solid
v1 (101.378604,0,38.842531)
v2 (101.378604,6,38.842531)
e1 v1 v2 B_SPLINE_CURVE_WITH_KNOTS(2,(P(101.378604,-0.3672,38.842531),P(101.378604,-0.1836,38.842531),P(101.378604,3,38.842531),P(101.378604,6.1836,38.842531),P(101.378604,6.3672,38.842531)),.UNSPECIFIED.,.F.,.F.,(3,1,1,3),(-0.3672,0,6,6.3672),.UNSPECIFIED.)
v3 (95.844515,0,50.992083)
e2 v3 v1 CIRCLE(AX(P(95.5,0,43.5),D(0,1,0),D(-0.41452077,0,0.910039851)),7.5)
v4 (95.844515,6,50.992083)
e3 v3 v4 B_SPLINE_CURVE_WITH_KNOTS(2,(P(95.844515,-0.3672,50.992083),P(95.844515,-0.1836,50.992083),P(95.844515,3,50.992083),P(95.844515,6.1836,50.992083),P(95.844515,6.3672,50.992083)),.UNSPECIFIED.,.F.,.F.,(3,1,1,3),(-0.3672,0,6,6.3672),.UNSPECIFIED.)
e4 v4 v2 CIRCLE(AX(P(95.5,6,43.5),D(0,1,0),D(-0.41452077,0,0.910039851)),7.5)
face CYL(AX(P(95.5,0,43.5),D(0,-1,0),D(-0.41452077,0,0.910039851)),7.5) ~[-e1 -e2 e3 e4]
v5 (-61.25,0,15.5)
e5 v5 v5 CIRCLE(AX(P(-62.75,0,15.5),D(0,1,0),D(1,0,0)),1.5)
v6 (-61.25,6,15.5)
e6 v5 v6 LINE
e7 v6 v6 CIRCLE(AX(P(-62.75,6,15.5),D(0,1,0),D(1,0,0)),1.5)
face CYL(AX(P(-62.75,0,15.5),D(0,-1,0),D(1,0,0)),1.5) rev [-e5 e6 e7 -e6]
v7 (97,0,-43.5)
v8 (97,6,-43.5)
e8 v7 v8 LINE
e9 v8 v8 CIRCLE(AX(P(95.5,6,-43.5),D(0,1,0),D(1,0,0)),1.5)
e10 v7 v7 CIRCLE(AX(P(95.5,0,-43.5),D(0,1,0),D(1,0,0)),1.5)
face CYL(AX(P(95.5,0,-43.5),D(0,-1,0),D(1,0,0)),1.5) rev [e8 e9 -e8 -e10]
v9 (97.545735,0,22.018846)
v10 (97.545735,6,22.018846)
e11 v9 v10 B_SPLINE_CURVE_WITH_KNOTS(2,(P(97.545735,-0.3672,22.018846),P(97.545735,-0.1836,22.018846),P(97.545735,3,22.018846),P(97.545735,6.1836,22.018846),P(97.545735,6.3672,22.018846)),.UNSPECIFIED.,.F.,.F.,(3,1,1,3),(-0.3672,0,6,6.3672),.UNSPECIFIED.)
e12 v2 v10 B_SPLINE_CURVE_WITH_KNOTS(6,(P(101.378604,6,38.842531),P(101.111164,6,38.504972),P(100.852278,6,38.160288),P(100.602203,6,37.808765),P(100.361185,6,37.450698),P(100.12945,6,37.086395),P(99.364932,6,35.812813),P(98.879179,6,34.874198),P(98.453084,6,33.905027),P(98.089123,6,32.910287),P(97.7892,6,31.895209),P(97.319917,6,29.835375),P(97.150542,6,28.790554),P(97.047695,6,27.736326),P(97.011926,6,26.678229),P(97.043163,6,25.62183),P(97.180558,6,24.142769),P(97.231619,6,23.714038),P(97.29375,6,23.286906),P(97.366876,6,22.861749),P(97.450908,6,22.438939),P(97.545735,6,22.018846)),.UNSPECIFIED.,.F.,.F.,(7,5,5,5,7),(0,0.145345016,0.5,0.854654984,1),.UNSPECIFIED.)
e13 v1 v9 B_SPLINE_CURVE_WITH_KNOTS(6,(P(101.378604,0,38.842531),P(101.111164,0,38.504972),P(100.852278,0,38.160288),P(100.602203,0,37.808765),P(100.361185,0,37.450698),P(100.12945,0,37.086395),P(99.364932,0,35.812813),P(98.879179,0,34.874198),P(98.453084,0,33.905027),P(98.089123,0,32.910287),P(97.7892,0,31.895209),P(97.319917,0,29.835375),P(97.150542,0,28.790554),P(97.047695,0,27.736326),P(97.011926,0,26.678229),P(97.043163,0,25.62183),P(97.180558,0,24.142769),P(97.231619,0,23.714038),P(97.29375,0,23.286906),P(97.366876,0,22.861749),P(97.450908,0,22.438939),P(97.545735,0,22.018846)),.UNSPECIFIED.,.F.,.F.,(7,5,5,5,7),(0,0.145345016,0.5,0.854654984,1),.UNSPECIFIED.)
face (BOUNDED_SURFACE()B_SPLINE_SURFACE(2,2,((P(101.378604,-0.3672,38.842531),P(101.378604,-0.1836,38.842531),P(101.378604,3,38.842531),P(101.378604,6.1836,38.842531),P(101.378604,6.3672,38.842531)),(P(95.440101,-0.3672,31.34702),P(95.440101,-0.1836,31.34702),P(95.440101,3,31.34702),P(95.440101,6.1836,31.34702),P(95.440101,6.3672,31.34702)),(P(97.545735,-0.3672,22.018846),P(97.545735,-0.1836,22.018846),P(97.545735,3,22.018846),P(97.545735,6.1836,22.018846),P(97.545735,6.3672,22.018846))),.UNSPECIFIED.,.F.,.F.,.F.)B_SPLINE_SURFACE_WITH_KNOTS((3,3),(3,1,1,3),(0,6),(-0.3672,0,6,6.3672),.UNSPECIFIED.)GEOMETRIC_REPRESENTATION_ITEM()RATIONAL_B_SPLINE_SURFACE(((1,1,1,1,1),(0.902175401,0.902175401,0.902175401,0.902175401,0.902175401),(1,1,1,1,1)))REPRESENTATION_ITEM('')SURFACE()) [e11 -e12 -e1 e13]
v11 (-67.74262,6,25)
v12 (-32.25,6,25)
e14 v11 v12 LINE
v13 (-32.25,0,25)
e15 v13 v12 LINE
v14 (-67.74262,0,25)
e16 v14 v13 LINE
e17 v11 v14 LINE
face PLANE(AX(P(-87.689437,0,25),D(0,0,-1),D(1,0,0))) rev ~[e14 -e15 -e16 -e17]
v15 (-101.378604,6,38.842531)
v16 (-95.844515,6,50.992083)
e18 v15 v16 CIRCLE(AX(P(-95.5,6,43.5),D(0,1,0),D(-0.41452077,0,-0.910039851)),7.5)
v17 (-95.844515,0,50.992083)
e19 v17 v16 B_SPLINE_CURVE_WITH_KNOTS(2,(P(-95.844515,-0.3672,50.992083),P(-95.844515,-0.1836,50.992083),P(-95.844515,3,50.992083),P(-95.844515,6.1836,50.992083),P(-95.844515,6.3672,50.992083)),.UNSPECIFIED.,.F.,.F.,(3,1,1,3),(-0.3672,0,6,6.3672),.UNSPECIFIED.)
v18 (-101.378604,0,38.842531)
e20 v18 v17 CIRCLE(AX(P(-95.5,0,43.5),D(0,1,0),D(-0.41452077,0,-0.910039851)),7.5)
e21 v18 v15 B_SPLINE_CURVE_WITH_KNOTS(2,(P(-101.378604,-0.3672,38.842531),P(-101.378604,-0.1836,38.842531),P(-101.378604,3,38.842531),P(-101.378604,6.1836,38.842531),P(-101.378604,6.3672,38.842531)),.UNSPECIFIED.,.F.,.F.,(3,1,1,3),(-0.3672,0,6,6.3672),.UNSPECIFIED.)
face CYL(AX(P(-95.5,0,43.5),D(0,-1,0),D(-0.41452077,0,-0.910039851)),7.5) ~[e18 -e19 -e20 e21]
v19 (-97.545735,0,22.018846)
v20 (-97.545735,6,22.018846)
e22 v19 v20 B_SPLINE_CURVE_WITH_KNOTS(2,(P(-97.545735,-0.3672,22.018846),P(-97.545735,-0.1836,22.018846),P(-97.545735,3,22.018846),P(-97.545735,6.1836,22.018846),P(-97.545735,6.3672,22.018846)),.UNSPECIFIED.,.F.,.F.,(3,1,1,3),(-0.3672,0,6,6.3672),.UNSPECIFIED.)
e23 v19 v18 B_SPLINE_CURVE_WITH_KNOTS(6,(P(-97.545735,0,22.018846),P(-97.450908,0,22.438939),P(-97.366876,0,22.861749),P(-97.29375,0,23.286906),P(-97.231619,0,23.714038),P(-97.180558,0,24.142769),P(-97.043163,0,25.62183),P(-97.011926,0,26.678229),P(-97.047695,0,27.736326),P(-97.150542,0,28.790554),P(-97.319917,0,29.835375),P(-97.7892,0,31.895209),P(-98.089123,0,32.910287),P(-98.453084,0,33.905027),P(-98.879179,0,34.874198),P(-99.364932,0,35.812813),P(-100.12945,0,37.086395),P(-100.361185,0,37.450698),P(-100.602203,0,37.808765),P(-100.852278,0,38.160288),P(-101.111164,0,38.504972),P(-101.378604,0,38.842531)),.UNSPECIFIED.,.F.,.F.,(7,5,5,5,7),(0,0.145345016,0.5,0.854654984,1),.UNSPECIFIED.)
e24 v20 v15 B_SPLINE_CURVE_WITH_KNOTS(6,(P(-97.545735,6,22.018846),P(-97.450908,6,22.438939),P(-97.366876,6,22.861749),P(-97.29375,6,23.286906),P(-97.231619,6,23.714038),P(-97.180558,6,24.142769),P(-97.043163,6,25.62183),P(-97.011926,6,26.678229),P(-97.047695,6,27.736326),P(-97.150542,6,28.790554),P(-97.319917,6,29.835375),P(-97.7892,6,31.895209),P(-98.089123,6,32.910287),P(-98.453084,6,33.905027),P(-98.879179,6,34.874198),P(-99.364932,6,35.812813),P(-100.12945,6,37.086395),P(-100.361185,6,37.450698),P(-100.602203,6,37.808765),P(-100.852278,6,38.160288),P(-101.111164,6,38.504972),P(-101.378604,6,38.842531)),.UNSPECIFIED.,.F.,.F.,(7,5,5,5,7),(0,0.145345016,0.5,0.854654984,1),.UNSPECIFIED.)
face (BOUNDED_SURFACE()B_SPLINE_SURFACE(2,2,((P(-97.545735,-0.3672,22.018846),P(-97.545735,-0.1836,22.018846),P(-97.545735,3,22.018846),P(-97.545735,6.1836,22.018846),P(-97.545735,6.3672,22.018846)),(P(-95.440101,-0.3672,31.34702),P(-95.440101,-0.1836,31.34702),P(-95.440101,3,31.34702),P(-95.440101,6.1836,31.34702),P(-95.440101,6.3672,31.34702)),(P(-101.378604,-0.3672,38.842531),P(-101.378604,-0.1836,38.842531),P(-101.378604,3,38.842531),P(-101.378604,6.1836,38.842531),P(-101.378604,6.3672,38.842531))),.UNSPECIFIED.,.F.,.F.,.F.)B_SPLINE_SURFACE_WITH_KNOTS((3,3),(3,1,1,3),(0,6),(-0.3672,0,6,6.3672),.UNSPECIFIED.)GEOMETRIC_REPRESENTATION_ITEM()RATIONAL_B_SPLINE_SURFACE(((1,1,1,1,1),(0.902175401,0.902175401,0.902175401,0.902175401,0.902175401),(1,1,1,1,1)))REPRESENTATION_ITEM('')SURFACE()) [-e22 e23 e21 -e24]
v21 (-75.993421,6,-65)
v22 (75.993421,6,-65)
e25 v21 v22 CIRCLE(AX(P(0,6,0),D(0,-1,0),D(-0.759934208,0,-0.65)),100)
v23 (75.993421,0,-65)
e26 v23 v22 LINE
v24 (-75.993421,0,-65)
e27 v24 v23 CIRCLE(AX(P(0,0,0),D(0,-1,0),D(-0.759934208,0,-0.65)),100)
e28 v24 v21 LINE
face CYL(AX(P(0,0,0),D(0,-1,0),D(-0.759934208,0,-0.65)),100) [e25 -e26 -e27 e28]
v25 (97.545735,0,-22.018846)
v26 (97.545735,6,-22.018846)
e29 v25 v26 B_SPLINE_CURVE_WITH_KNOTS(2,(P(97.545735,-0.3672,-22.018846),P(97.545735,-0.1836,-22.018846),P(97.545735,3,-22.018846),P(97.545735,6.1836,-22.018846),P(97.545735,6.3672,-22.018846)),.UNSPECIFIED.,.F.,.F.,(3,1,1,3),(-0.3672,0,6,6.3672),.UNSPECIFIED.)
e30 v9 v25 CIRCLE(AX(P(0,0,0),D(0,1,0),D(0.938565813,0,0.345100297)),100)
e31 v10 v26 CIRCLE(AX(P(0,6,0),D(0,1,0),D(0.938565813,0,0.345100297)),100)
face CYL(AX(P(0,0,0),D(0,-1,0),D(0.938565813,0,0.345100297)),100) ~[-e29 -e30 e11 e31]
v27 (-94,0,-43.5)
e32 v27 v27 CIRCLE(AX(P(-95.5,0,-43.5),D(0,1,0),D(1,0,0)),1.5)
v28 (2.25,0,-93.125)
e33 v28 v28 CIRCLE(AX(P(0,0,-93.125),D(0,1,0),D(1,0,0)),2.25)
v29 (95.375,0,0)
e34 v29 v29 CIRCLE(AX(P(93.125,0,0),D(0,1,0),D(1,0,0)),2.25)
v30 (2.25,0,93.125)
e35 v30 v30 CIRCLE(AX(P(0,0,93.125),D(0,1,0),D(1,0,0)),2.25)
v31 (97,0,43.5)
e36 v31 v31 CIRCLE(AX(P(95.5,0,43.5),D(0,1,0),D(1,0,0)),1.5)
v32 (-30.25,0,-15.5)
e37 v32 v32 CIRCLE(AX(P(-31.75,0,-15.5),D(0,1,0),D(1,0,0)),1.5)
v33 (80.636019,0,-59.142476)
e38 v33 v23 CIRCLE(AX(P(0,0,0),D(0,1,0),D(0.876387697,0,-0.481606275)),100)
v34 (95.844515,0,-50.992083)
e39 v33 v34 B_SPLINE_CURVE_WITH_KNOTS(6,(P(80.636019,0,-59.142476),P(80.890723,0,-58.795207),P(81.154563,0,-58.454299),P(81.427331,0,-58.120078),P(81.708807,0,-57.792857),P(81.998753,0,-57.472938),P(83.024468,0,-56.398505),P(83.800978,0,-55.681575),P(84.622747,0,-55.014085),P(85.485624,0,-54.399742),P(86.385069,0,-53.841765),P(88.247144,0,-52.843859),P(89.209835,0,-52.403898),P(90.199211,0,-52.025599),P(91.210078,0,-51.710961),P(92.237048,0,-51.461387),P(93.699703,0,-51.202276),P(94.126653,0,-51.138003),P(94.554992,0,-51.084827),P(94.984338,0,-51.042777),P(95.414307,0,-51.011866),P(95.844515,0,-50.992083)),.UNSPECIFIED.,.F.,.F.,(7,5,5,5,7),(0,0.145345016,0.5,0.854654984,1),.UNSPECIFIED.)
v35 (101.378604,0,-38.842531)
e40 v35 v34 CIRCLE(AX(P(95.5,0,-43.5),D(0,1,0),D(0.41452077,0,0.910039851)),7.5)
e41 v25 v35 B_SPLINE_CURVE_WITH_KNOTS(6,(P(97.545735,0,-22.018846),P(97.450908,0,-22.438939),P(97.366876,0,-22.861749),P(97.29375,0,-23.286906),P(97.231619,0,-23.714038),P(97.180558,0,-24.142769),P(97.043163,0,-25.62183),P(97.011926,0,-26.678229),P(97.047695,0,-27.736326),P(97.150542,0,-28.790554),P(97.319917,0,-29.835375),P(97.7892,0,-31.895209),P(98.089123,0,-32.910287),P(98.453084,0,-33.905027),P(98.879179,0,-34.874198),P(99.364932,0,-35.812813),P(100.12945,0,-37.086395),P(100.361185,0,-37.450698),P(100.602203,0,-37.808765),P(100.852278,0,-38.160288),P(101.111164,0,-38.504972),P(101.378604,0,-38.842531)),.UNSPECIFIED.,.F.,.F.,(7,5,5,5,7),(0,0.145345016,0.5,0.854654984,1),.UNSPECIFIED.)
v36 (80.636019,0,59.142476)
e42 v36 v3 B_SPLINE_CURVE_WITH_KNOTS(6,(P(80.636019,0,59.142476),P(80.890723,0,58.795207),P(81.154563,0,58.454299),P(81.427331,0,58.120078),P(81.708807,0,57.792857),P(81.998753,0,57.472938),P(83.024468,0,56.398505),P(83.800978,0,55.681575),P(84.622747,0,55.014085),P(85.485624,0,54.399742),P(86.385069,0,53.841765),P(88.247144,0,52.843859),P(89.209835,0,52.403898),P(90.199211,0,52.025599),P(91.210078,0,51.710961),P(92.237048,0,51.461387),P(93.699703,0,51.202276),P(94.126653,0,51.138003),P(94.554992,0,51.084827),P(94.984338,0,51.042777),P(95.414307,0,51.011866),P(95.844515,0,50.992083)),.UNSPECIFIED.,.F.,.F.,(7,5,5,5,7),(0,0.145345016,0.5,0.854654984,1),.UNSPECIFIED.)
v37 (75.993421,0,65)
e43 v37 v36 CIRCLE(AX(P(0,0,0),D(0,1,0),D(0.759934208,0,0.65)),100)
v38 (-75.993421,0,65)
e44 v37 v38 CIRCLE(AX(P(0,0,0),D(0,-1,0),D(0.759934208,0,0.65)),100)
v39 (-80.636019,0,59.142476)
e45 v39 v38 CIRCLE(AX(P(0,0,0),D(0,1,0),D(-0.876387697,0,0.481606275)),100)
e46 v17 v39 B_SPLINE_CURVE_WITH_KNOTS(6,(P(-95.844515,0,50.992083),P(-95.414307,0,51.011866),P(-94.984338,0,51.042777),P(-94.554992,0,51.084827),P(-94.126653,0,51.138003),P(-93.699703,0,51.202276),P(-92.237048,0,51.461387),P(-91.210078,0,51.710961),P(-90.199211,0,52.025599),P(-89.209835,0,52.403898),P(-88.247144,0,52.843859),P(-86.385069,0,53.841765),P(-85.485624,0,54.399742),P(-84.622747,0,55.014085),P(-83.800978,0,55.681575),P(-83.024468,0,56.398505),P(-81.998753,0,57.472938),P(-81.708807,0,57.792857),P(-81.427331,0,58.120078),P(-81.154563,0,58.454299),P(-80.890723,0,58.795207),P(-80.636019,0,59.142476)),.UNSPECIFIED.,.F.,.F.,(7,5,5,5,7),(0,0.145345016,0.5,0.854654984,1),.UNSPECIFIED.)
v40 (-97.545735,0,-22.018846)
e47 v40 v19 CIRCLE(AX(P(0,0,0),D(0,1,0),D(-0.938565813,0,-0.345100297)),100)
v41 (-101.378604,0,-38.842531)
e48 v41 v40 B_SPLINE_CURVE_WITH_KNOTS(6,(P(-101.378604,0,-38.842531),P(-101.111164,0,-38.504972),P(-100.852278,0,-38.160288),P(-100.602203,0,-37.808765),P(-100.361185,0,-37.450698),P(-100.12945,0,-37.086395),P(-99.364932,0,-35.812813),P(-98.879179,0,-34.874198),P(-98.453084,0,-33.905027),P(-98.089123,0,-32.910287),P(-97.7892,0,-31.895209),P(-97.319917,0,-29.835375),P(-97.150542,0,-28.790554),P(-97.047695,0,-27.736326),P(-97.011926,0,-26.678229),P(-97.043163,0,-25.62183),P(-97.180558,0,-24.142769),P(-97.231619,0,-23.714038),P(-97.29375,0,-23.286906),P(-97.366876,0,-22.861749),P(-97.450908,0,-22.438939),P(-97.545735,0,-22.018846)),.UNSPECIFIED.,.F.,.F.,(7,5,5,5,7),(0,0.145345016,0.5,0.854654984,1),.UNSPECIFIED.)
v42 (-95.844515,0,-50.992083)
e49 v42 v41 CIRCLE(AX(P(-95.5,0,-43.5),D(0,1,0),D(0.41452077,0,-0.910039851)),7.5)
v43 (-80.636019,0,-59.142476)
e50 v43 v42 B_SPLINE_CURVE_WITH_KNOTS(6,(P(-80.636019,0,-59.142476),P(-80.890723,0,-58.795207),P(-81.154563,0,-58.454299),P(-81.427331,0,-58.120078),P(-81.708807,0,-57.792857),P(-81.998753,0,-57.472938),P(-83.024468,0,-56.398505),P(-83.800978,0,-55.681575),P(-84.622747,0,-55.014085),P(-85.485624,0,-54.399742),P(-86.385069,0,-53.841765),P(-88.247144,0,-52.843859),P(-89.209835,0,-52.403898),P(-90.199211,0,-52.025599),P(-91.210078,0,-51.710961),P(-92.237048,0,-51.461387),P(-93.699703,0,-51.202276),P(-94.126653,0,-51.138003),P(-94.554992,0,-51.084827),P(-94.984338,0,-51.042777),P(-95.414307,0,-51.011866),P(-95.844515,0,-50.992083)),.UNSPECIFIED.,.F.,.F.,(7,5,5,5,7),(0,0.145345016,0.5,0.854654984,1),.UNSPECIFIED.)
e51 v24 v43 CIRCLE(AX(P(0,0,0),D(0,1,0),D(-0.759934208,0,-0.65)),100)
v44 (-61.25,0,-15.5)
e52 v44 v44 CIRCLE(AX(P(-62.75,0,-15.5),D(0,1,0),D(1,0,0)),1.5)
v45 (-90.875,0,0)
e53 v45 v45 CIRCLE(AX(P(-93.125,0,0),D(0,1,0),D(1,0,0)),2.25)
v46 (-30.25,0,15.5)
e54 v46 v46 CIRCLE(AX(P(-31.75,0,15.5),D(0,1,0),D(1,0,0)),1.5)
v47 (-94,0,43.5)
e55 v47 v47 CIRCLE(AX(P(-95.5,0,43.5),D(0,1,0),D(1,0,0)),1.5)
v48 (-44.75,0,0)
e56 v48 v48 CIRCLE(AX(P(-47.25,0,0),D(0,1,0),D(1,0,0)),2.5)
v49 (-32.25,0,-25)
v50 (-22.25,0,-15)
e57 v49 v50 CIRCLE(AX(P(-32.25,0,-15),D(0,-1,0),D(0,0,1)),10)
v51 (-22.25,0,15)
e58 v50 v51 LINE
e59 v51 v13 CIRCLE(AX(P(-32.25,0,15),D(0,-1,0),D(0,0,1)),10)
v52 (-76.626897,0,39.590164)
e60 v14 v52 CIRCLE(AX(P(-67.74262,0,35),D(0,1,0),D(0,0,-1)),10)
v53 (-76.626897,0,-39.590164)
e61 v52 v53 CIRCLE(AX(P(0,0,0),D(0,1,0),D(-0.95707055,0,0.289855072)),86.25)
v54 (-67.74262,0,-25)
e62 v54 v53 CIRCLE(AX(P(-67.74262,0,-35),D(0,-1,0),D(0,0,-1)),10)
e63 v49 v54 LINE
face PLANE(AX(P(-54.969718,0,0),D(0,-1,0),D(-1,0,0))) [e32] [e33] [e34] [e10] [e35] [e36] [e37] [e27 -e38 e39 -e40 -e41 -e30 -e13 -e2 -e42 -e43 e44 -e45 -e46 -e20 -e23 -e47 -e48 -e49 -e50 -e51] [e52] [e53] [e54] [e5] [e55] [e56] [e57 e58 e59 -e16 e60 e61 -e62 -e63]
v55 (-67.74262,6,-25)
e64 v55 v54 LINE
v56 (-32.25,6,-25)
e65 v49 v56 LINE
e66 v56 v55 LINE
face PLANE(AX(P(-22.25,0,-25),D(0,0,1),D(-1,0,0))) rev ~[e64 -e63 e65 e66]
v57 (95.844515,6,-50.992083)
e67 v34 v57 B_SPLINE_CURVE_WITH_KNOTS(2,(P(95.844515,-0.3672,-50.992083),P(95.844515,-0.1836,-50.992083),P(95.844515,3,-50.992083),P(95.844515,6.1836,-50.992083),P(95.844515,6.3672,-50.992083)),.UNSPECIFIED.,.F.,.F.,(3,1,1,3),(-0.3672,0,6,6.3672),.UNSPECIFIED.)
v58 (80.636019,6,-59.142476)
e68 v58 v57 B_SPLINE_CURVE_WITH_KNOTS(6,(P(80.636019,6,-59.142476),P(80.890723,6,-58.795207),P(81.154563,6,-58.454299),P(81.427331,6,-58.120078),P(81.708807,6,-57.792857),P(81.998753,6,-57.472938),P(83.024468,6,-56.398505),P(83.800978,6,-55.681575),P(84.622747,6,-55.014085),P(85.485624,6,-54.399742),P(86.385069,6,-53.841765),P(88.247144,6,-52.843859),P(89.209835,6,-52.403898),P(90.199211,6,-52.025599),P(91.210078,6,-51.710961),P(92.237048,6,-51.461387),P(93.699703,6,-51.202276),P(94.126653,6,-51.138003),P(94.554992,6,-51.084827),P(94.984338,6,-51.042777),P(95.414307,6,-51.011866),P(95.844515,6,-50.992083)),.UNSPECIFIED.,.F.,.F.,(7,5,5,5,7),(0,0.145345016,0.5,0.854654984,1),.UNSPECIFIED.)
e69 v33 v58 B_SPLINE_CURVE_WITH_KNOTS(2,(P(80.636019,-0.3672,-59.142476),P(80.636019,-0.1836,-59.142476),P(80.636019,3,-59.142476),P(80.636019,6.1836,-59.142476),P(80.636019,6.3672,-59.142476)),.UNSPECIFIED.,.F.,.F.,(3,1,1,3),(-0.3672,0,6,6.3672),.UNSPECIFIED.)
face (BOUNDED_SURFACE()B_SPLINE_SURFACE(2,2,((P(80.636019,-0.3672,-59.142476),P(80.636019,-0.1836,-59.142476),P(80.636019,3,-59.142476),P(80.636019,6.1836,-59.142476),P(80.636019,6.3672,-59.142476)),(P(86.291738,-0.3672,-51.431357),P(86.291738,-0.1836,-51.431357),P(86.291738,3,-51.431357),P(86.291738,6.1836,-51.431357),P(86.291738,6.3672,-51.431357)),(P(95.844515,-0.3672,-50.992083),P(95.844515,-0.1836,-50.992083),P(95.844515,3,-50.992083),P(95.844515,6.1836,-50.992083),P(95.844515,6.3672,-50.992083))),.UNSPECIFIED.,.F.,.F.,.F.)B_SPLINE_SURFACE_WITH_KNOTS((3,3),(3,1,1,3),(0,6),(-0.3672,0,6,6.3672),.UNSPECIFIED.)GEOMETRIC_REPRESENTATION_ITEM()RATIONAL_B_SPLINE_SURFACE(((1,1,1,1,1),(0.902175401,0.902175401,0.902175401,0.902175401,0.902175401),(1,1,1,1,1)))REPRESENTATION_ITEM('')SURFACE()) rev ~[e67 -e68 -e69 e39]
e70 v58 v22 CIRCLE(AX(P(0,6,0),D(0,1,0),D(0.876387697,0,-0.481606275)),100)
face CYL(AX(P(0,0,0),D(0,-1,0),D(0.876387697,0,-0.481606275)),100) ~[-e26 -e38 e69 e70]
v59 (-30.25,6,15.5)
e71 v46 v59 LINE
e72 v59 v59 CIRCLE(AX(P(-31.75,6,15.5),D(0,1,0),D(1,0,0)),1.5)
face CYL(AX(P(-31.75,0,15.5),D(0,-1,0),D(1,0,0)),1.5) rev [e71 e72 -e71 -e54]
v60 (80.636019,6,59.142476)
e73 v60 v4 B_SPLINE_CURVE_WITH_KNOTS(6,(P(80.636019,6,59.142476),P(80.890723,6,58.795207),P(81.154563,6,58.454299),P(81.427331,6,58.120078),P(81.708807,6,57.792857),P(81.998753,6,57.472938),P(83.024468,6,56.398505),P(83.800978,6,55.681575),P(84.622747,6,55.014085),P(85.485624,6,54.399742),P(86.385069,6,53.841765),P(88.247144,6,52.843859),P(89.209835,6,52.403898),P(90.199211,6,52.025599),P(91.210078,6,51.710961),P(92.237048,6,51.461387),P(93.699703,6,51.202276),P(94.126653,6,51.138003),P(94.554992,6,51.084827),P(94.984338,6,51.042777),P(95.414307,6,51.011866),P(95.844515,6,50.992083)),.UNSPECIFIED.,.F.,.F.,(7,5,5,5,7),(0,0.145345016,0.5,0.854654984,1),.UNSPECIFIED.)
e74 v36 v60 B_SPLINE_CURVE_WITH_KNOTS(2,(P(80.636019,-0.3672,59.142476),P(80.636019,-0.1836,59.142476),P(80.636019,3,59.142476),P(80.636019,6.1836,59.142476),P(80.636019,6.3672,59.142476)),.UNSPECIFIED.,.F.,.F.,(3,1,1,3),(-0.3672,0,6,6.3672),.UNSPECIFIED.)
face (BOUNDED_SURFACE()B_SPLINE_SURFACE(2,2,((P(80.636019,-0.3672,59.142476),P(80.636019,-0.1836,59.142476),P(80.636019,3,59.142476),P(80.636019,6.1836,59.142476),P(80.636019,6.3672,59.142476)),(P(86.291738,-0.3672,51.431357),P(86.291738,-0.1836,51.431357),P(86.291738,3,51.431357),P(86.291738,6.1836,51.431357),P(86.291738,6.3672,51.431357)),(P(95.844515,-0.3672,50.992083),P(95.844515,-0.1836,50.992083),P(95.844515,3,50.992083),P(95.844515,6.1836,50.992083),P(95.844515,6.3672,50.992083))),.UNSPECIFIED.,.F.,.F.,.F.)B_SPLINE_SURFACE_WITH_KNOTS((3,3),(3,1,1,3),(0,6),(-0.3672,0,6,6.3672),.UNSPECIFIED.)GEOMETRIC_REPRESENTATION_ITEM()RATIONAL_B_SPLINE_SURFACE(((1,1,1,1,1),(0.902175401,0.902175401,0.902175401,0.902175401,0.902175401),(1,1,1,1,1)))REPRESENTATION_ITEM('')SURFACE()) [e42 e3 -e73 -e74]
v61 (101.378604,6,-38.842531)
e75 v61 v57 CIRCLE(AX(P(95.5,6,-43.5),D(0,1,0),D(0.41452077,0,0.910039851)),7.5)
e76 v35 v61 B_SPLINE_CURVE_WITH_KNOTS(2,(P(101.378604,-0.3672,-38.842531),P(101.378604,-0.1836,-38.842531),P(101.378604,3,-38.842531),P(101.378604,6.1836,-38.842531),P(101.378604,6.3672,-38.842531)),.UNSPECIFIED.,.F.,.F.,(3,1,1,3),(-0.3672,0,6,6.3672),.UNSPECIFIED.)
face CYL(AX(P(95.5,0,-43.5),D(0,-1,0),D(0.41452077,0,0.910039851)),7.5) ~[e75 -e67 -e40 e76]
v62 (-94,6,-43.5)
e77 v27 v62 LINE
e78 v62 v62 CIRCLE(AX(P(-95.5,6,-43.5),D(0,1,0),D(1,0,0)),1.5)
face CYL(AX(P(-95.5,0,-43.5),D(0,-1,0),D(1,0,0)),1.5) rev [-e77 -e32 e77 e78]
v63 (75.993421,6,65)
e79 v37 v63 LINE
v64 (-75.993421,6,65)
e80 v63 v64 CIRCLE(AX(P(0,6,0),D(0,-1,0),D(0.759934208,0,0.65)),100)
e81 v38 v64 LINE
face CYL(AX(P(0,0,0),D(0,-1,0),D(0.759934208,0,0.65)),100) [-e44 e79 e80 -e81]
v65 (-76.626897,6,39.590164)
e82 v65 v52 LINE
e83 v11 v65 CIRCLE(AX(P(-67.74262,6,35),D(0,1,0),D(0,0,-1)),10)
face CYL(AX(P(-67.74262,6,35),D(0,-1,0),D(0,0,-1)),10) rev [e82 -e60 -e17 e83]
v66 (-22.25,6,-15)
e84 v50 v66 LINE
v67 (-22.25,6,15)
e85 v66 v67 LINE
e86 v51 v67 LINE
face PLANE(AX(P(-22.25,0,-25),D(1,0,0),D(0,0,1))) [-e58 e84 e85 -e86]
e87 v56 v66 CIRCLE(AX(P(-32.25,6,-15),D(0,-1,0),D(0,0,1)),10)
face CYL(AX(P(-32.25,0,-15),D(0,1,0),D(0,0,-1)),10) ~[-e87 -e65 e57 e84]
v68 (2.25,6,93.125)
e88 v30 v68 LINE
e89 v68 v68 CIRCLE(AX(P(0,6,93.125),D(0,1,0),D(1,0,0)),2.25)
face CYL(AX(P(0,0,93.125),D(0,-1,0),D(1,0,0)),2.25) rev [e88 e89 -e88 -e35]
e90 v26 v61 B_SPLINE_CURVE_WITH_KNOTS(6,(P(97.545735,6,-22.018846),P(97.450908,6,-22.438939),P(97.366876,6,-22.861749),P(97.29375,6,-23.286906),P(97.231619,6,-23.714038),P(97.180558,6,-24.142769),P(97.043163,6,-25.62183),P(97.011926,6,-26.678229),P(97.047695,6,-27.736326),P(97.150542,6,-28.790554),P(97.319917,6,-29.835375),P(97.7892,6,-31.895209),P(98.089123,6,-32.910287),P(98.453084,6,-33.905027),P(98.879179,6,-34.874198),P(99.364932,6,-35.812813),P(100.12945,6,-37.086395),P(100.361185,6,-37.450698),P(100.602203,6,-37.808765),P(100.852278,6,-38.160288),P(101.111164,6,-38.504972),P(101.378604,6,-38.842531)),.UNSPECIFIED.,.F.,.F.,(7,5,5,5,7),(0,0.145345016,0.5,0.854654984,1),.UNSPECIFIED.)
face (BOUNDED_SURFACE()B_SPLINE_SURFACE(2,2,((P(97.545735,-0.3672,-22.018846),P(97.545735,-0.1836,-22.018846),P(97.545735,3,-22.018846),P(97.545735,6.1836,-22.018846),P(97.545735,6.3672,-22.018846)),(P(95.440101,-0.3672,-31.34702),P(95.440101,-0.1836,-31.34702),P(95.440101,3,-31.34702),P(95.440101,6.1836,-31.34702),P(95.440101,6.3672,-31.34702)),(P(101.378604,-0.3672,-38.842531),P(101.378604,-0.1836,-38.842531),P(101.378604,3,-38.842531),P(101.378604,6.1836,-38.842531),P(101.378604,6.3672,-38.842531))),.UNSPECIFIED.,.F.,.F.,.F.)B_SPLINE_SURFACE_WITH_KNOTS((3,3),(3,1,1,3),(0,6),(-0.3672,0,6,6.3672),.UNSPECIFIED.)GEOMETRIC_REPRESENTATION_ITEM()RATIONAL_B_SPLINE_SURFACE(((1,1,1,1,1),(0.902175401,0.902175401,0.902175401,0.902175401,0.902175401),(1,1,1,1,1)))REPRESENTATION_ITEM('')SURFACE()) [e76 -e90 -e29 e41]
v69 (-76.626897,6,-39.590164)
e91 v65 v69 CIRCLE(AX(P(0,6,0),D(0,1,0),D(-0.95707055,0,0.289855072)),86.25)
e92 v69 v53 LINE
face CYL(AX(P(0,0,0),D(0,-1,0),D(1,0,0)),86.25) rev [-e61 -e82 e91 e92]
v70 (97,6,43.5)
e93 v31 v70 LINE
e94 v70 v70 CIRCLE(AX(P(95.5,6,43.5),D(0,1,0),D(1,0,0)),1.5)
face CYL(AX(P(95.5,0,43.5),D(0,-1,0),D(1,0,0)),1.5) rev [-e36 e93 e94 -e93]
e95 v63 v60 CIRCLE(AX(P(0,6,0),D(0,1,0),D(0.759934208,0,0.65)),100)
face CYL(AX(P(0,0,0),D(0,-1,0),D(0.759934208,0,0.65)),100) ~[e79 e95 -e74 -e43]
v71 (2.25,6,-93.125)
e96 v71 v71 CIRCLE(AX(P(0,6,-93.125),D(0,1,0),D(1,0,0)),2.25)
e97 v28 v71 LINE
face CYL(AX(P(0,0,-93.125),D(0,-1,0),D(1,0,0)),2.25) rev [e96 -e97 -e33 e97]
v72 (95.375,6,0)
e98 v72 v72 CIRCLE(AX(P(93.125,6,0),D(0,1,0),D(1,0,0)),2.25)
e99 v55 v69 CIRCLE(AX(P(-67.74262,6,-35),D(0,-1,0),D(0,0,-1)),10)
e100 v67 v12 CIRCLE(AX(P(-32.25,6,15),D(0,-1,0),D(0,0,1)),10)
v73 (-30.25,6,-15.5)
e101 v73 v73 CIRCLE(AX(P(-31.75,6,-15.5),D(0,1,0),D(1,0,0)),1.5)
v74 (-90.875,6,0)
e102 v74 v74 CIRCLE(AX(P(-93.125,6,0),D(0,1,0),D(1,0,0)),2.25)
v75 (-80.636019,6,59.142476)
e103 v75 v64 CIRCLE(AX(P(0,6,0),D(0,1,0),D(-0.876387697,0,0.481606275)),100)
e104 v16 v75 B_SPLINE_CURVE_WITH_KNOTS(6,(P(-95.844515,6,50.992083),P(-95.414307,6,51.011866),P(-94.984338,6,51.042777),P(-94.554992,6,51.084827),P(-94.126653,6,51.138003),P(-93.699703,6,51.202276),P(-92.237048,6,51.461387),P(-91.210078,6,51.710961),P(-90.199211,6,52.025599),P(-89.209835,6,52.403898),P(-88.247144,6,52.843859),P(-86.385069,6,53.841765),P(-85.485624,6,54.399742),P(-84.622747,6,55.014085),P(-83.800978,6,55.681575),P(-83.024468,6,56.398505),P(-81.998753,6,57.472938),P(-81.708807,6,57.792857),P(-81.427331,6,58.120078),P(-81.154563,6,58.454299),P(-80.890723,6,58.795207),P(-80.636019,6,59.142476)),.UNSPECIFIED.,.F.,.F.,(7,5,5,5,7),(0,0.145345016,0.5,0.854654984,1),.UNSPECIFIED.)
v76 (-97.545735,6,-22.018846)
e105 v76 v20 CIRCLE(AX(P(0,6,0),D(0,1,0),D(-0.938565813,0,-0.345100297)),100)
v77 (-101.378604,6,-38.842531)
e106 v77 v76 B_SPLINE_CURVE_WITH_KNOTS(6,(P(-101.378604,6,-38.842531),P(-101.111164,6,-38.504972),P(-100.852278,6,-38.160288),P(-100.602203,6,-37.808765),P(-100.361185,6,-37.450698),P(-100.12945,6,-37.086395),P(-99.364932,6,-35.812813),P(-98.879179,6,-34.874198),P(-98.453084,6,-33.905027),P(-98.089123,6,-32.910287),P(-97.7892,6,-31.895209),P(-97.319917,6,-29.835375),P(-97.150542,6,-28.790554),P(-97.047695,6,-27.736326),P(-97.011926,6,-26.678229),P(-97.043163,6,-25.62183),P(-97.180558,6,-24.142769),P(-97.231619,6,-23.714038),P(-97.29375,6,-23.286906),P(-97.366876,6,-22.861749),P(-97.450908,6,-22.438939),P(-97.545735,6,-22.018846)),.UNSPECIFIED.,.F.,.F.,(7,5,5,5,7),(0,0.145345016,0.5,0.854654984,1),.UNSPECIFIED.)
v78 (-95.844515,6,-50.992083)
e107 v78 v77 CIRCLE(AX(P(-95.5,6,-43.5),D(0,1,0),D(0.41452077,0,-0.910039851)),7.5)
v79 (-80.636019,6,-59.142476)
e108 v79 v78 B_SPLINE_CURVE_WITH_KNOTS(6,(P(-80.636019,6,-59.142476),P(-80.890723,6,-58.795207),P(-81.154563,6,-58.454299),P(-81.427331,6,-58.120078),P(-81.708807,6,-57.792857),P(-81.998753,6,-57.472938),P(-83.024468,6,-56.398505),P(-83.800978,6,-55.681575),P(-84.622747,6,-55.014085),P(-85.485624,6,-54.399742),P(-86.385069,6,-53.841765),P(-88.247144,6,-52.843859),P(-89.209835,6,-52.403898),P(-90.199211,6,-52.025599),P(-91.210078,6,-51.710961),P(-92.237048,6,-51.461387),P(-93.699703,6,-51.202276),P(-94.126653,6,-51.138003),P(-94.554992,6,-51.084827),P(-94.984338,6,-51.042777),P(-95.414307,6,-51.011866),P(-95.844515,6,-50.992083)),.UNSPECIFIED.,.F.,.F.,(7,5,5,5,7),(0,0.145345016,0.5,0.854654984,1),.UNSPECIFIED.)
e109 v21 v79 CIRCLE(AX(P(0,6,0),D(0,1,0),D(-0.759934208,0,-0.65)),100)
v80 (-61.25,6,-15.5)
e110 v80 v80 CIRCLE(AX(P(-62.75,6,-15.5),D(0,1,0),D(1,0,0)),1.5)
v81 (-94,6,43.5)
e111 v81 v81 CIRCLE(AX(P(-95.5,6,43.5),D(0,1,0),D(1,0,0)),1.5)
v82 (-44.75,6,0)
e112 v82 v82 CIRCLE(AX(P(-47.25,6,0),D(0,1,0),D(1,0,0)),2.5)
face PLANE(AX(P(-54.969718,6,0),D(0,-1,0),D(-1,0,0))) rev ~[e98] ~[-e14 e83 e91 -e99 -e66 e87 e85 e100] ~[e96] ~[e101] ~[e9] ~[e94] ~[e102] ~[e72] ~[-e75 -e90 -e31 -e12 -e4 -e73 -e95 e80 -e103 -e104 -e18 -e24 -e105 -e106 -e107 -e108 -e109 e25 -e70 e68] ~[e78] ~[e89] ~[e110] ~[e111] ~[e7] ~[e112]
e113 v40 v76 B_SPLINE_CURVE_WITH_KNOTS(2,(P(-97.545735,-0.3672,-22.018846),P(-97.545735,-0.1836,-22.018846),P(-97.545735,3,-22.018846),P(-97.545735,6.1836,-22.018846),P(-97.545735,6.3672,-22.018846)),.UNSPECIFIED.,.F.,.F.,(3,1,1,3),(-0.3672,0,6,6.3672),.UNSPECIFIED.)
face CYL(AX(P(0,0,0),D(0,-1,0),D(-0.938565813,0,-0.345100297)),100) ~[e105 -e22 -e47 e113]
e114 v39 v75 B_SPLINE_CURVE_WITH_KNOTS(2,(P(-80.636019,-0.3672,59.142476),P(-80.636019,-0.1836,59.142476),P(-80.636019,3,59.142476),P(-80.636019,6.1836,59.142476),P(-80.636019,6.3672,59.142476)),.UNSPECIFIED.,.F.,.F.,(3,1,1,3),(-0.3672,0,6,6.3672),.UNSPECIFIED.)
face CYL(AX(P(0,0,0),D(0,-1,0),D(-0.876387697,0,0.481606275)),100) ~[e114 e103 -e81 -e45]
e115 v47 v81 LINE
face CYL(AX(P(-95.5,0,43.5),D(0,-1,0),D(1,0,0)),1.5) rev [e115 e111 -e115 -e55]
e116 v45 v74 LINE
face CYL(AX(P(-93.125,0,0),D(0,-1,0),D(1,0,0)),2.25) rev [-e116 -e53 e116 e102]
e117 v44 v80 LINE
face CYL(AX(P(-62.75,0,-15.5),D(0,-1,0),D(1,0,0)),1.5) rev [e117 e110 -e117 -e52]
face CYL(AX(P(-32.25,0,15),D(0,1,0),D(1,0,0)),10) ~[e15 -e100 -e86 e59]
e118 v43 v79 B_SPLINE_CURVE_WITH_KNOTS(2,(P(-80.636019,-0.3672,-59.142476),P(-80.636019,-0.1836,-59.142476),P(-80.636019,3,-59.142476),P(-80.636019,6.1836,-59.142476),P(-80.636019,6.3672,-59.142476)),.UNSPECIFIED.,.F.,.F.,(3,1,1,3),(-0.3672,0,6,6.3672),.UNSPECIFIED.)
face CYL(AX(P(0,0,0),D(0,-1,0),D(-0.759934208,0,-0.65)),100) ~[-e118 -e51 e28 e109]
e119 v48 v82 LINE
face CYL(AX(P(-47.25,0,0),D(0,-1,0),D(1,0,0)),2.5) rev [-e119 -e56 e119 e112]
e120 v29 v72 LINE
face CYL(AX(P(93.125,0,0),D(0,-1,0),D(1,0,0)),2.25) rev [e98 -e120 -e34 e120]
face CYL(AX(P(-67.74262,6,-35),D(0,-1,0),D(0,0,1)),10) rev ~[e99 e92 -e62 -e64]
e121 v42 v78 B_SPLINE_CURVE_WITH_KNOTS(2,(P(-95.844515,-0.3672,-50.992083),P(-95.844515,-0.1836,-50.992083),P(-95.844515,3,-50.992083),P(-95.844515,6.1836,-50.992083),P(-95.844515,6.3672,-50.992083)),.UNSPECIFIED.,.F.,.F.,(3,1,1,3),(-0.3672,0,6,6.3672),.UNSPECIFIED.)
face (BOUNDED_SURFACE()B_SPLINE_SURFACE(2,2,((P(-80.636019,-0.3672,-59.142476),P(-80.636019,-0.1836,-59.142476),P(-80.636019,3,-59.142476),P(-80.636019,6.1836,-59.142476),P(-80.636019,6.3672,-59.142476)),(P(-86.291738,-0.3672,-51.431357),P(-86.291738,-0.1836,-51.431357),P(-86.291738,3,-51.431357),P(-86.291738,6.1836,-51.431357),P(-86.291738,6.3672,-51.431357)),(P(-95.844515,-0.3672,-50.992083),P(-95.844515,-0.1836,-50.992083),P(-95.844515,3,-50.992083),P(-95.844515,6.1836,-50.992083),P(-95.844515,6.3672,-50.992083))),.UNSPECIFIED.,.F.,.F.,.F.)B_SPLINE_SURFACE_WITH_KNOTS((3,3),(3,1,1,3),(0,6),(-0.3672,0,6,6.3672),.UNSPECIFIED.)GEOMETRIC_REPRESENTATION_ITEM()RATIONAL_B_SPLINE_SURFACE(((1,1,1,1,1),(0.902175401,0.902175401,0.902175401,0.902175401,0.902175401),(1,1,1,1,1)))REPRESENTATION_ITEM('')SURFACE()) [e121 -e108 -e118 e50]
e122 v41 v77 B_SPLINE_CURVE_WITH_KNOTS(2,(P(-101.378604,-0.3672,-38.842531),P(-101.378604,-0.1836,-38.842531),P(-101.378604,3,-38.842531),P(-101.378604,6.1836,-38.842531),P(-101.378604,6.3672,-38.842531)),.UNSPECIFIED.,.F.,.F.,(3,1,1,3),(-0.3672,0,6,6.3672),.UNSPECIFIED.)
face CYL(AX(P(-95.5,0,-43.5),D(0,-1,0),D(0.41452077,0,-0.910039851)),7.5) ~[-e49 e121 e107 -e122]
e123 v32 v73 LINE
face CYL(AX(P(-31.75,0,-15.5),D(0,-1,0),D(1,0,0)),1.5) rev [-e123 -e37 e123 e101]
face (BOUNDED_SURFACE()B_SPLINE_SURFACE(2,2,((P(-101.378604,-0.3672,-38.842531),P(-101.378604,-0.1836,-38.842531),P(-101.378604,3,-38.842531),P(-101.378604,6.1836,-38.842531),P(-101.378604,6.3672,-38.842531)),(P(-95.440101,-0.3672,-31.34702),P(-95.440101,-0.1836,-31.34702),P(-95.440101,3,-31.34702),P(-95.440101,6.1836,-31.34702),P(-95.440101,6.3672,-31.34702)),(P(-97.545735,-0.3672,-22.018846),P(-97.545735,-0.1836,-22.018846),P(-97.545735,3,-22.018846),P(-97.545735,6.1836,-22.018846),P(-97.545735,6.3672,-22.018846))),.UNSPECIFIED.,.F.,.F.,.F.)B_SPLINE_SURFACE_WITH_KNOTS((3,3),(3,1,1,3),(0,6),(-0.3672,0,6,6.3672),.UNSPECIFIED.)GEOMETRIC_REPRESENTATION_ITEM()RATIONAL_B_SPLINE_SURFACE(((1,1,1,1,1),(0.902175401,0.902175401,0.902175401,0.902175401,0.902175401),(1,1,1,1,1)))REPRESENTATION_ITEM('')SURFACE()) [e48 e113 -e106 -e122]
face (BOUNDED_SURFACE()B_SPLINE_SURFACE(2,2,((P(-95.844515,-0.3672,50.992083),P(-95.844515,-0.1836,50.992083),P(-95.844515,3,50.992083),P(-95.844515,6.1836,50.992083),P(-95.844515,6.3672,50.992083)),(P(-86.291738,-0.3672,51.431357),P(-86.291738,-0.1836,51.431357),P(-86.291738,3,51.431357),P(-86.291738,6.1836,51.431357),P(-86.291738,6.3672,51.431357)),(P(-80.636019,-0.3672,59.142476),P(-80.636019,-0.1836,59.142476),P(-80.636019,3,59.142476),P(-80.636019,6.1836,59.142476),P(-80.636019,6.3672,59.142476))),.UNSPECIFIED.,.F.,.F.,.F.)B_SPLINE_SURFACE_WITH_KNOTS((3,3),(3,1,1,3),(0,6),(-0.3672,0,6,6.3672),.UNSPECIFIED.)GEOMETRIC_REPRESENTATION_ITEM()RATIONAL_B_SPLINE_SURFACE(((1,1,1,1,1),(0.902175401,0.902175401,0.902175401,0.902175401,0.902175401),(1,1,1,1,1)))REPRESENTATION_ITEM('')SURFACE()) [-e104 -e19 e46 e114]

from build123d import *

# Parameters (mm, degrees)
SKETCH1_R           = 86.25
BOSS_EXTRUDE1_DEPTH = 6
SKETCH2_R           = 1.5
CUT_EXTRUDE1_DEPTH  = 6
SKETCH3_R           = 2.25
CUT_EXTRUDE2_DEPTH  = 6
CUT_EXTRUDE3_DEPTH  = 6
FILLET1_R           = 20
SKETCH5_R           = 2.5
SKETCH5_R_2         = 1.5
BOSS_EXTRUDE2_DEPTH = 6
FILLET2_R           = 10


with BuildPart() as part:
    # Sketch1 → Boss-Extrude1 (new body)
    with BuildSketch(Plane(origin=(0, 0, 0), x_dir=(1, 0, 0), z_dir=(0, 1, 0))):
        with BuildLine():
            Line((75.993420768, 65), (110, 65))
            Line((110, 65), (110, -65))
            Line((110, -65), (75.993420768, -65))
            ThreePointArc((75.993420768, -65), (0, -100), (-75.993420768, -65))
            Line((-75.993420768, -65), (-110, -65))
            Line((-110, -65), (-110, 65))
            Line((-110, 65), (-75.993420768, 65))
            ThreePointArc((-75.993420768, 65), (0, 100), (75.993420768, 65))
        make_face()
        Circle(SKETCH1_R, mode=Mode.SUBTRACT)
    extrude(amount=BOSS_EXTRUDE1_DEPTH)

    # Sketch2 → Cut-Extrude1 (cut)
    with BuildSketch(Plane(origin=(0, 0, 0), x_dir=(1, 0, 0), z_dir=(0, 1, 0))):
        with Locations((-95.5, 43.5)):
            Circle(SKETCH2_R)
        with Locations((95.5, 43.5)):
            Circle(SKETCH2_R)
        with Locations((95.5, -43.5)):
            Circle(SKETCH2_R)
        with Locations((-95.5, -43.5)):
            Circle(SKETCH2_R)
    extrude(amount=CUT_EXTRUDE1_DEPTH, mode=Mode.SUBTRACT)

    # Sketch3 → Cut-Extrude2 (cut)
    with BuildSketch(Plane(origin=(0, 0, 0), x_dir=(1, 0, 0), z_dir=(0, 1, 0))):
        with Locations((0, 93.125)):
            Circle(SKETCH3_R)
        with Locations((93.125, 0)):
            Circle(SKETCH3_R)
        with Locations((0, -93.125)):
            Circle(SKETCH3_R)
        with Locations((-93.125, 0)):
            Circle(SKETCH3_R)
    extrude(amount=CUT_EXTRUDE2_DEPTH, mode=Mode.SUBTRACT)

    # Sketch4 → Cut-Extrude3 (cut)
    with BuildSketch(Plane(origin=(0, 0, 0), x_dir=(1, 0, 0), z_dir=(0, 1, 0))):
        with BuildLine():
            Line((98.608905775, -36.674701114), (93.856581268, -34.510029742))
            ThreePointArc((93.856581268, -34.510029742), (100, 0), (93.856581268, 34.510029742))
            Line((93.856581268, 34.510029742), (98.608905775, 36.674701114))
            ThreePointArc((98.608905775, 36.674701114), (102.325298886, 46.608905775), (92.391094225, 50.325298886))
            Line((92.391094225, 50.325298886), (87.638769717, 48.160627513))
            ThreePointArc((87.638769717, 48.160627513), (82.248188777, 56.879130117), (75.993420768, 65))
            Line((75.993420768, 65), (110, 65))
            Line((110, 65), (110, -65))
            Line((110, -65), (75.993420768, -65))
            ThreePointArc((75.993420768, -65), (82.248188777, -56.879130117), (87.638769717, -48.160627513))
            Line((87.638769717, -48.160627513), (92.391094225, -50.325298886))
            ThreePointArc((92.391094225, -50.325298886), (102.325298886, -46.608905775), (98.608905775, -36.674701114))
        make_face()
        with BuildLine():
            Line((-98.608905775, 36.674701114), (-93.856581268, 34.510029742))
            ThreePointArc((-93.856581268, 34.510029742), (-100, 0), (-93.856581268, -34.510029742))
            Line((-93.856581268, -34.510029742), (-98.608905775, -36.674701114))
            ThreePointArc((-98.608905775, -36.674701114), (-102.325298886, -46.608905775), (-92.391094225, -50.325298886))
            Line((-92.391094225, -50.325298886), (-87.638769717, -48.160627513))
            ThreePointArc((-87.638769717, -48.160627513), (-82.248188777, -56.879130117), (-75.993420768, -65))
            Line((-75.993420768, -65), (-110, -65))
            Line((-110, -65), (-110, 65))
            Line((-110, 65), (-75.993420768, 65))
            ThreePointArc((-75.993420768, 65), (-82.248188777, 56.879130117), (-87.638769717, 48.160627513))
            Line((-87.638769717, 48.160627513), (-92.391094225, 50.325298886))
            ThreePointArc((-92.391094225, 50.325298886), (-102.325298886, 46.608905775), (-98.608905775, 36.674701114))
        make_face()
    extrude(amount=CUT_EXTRUDE3_DEPTH, mode=Mode.SUBTRACT)

    # Fillet1
    fillet1_edges = [part.edges().sort_by_distance(p)[0] for p in [
        (87.638769717, 3, -48.160627513),
        (93.856581268, 3, -34.510029742),
        (93.856581268, 3, 34.510029742),
        (87.638769717, 3, 48.160627513),
        (-87.638769717, 3, 48.160627513),
        (-93.856581268, 3, 34.510029742),
        (-93.856581268, 3, -34.510029742),
        (-87.638769717, 3, -48.160627513),
    ]]
    fillet(fillet1_edges, radius=FILLET1_R)

    # Sketch5 → Boss-Extrude2 (add)
    with BuildSketch(Plane(origin=(0, 0, 0), x_dir=(1, 0, 0), z_dir=(0, 1, 0))):
        Polygon((-72.25, 25), (-22.25, 25), (-22.25, -25), (-72.25, -25), (-87.689436508, -25), (-87.689436508, 25), align=None)
        with Locations((-47.25, 0)):
            Circle(SKETCH5_R, mode=Mode.SUBTRACT)
        with Locations((-62.75, 15.5)):
            Circle(SKETCH5_R_2, mode=Mode.SUBTRACT)
        with Locations((-31.75, 15.5)):
            Circle(SKETCH5_R_2, mode=Mode.SUBTRACT)
        with Locations((-62.75, -15.5)):
            Circle(SKETCH5_R_2, mode=Mode.SUBTRACT)
        with Locations((-31.75, -15.5)):
            Circle(SKETCH5_R_2, mode=Mode.SUBTRACT)
    extrude(amount=BOSS_EXTRUDE2_DEPTH)

    # Fillet2
    fillet2_edges = [part.edges().sort_by_distance(p)[0] for p in [
        (-82.547334905, 3, 25),
        (-82.547334905, 3, -25),
        (-22.25, 3, 25),
        (-22.25, 3, -25),
    ]]
    fillet(fillet2_edges, radius=FILLET2_R)


solid = part.part
